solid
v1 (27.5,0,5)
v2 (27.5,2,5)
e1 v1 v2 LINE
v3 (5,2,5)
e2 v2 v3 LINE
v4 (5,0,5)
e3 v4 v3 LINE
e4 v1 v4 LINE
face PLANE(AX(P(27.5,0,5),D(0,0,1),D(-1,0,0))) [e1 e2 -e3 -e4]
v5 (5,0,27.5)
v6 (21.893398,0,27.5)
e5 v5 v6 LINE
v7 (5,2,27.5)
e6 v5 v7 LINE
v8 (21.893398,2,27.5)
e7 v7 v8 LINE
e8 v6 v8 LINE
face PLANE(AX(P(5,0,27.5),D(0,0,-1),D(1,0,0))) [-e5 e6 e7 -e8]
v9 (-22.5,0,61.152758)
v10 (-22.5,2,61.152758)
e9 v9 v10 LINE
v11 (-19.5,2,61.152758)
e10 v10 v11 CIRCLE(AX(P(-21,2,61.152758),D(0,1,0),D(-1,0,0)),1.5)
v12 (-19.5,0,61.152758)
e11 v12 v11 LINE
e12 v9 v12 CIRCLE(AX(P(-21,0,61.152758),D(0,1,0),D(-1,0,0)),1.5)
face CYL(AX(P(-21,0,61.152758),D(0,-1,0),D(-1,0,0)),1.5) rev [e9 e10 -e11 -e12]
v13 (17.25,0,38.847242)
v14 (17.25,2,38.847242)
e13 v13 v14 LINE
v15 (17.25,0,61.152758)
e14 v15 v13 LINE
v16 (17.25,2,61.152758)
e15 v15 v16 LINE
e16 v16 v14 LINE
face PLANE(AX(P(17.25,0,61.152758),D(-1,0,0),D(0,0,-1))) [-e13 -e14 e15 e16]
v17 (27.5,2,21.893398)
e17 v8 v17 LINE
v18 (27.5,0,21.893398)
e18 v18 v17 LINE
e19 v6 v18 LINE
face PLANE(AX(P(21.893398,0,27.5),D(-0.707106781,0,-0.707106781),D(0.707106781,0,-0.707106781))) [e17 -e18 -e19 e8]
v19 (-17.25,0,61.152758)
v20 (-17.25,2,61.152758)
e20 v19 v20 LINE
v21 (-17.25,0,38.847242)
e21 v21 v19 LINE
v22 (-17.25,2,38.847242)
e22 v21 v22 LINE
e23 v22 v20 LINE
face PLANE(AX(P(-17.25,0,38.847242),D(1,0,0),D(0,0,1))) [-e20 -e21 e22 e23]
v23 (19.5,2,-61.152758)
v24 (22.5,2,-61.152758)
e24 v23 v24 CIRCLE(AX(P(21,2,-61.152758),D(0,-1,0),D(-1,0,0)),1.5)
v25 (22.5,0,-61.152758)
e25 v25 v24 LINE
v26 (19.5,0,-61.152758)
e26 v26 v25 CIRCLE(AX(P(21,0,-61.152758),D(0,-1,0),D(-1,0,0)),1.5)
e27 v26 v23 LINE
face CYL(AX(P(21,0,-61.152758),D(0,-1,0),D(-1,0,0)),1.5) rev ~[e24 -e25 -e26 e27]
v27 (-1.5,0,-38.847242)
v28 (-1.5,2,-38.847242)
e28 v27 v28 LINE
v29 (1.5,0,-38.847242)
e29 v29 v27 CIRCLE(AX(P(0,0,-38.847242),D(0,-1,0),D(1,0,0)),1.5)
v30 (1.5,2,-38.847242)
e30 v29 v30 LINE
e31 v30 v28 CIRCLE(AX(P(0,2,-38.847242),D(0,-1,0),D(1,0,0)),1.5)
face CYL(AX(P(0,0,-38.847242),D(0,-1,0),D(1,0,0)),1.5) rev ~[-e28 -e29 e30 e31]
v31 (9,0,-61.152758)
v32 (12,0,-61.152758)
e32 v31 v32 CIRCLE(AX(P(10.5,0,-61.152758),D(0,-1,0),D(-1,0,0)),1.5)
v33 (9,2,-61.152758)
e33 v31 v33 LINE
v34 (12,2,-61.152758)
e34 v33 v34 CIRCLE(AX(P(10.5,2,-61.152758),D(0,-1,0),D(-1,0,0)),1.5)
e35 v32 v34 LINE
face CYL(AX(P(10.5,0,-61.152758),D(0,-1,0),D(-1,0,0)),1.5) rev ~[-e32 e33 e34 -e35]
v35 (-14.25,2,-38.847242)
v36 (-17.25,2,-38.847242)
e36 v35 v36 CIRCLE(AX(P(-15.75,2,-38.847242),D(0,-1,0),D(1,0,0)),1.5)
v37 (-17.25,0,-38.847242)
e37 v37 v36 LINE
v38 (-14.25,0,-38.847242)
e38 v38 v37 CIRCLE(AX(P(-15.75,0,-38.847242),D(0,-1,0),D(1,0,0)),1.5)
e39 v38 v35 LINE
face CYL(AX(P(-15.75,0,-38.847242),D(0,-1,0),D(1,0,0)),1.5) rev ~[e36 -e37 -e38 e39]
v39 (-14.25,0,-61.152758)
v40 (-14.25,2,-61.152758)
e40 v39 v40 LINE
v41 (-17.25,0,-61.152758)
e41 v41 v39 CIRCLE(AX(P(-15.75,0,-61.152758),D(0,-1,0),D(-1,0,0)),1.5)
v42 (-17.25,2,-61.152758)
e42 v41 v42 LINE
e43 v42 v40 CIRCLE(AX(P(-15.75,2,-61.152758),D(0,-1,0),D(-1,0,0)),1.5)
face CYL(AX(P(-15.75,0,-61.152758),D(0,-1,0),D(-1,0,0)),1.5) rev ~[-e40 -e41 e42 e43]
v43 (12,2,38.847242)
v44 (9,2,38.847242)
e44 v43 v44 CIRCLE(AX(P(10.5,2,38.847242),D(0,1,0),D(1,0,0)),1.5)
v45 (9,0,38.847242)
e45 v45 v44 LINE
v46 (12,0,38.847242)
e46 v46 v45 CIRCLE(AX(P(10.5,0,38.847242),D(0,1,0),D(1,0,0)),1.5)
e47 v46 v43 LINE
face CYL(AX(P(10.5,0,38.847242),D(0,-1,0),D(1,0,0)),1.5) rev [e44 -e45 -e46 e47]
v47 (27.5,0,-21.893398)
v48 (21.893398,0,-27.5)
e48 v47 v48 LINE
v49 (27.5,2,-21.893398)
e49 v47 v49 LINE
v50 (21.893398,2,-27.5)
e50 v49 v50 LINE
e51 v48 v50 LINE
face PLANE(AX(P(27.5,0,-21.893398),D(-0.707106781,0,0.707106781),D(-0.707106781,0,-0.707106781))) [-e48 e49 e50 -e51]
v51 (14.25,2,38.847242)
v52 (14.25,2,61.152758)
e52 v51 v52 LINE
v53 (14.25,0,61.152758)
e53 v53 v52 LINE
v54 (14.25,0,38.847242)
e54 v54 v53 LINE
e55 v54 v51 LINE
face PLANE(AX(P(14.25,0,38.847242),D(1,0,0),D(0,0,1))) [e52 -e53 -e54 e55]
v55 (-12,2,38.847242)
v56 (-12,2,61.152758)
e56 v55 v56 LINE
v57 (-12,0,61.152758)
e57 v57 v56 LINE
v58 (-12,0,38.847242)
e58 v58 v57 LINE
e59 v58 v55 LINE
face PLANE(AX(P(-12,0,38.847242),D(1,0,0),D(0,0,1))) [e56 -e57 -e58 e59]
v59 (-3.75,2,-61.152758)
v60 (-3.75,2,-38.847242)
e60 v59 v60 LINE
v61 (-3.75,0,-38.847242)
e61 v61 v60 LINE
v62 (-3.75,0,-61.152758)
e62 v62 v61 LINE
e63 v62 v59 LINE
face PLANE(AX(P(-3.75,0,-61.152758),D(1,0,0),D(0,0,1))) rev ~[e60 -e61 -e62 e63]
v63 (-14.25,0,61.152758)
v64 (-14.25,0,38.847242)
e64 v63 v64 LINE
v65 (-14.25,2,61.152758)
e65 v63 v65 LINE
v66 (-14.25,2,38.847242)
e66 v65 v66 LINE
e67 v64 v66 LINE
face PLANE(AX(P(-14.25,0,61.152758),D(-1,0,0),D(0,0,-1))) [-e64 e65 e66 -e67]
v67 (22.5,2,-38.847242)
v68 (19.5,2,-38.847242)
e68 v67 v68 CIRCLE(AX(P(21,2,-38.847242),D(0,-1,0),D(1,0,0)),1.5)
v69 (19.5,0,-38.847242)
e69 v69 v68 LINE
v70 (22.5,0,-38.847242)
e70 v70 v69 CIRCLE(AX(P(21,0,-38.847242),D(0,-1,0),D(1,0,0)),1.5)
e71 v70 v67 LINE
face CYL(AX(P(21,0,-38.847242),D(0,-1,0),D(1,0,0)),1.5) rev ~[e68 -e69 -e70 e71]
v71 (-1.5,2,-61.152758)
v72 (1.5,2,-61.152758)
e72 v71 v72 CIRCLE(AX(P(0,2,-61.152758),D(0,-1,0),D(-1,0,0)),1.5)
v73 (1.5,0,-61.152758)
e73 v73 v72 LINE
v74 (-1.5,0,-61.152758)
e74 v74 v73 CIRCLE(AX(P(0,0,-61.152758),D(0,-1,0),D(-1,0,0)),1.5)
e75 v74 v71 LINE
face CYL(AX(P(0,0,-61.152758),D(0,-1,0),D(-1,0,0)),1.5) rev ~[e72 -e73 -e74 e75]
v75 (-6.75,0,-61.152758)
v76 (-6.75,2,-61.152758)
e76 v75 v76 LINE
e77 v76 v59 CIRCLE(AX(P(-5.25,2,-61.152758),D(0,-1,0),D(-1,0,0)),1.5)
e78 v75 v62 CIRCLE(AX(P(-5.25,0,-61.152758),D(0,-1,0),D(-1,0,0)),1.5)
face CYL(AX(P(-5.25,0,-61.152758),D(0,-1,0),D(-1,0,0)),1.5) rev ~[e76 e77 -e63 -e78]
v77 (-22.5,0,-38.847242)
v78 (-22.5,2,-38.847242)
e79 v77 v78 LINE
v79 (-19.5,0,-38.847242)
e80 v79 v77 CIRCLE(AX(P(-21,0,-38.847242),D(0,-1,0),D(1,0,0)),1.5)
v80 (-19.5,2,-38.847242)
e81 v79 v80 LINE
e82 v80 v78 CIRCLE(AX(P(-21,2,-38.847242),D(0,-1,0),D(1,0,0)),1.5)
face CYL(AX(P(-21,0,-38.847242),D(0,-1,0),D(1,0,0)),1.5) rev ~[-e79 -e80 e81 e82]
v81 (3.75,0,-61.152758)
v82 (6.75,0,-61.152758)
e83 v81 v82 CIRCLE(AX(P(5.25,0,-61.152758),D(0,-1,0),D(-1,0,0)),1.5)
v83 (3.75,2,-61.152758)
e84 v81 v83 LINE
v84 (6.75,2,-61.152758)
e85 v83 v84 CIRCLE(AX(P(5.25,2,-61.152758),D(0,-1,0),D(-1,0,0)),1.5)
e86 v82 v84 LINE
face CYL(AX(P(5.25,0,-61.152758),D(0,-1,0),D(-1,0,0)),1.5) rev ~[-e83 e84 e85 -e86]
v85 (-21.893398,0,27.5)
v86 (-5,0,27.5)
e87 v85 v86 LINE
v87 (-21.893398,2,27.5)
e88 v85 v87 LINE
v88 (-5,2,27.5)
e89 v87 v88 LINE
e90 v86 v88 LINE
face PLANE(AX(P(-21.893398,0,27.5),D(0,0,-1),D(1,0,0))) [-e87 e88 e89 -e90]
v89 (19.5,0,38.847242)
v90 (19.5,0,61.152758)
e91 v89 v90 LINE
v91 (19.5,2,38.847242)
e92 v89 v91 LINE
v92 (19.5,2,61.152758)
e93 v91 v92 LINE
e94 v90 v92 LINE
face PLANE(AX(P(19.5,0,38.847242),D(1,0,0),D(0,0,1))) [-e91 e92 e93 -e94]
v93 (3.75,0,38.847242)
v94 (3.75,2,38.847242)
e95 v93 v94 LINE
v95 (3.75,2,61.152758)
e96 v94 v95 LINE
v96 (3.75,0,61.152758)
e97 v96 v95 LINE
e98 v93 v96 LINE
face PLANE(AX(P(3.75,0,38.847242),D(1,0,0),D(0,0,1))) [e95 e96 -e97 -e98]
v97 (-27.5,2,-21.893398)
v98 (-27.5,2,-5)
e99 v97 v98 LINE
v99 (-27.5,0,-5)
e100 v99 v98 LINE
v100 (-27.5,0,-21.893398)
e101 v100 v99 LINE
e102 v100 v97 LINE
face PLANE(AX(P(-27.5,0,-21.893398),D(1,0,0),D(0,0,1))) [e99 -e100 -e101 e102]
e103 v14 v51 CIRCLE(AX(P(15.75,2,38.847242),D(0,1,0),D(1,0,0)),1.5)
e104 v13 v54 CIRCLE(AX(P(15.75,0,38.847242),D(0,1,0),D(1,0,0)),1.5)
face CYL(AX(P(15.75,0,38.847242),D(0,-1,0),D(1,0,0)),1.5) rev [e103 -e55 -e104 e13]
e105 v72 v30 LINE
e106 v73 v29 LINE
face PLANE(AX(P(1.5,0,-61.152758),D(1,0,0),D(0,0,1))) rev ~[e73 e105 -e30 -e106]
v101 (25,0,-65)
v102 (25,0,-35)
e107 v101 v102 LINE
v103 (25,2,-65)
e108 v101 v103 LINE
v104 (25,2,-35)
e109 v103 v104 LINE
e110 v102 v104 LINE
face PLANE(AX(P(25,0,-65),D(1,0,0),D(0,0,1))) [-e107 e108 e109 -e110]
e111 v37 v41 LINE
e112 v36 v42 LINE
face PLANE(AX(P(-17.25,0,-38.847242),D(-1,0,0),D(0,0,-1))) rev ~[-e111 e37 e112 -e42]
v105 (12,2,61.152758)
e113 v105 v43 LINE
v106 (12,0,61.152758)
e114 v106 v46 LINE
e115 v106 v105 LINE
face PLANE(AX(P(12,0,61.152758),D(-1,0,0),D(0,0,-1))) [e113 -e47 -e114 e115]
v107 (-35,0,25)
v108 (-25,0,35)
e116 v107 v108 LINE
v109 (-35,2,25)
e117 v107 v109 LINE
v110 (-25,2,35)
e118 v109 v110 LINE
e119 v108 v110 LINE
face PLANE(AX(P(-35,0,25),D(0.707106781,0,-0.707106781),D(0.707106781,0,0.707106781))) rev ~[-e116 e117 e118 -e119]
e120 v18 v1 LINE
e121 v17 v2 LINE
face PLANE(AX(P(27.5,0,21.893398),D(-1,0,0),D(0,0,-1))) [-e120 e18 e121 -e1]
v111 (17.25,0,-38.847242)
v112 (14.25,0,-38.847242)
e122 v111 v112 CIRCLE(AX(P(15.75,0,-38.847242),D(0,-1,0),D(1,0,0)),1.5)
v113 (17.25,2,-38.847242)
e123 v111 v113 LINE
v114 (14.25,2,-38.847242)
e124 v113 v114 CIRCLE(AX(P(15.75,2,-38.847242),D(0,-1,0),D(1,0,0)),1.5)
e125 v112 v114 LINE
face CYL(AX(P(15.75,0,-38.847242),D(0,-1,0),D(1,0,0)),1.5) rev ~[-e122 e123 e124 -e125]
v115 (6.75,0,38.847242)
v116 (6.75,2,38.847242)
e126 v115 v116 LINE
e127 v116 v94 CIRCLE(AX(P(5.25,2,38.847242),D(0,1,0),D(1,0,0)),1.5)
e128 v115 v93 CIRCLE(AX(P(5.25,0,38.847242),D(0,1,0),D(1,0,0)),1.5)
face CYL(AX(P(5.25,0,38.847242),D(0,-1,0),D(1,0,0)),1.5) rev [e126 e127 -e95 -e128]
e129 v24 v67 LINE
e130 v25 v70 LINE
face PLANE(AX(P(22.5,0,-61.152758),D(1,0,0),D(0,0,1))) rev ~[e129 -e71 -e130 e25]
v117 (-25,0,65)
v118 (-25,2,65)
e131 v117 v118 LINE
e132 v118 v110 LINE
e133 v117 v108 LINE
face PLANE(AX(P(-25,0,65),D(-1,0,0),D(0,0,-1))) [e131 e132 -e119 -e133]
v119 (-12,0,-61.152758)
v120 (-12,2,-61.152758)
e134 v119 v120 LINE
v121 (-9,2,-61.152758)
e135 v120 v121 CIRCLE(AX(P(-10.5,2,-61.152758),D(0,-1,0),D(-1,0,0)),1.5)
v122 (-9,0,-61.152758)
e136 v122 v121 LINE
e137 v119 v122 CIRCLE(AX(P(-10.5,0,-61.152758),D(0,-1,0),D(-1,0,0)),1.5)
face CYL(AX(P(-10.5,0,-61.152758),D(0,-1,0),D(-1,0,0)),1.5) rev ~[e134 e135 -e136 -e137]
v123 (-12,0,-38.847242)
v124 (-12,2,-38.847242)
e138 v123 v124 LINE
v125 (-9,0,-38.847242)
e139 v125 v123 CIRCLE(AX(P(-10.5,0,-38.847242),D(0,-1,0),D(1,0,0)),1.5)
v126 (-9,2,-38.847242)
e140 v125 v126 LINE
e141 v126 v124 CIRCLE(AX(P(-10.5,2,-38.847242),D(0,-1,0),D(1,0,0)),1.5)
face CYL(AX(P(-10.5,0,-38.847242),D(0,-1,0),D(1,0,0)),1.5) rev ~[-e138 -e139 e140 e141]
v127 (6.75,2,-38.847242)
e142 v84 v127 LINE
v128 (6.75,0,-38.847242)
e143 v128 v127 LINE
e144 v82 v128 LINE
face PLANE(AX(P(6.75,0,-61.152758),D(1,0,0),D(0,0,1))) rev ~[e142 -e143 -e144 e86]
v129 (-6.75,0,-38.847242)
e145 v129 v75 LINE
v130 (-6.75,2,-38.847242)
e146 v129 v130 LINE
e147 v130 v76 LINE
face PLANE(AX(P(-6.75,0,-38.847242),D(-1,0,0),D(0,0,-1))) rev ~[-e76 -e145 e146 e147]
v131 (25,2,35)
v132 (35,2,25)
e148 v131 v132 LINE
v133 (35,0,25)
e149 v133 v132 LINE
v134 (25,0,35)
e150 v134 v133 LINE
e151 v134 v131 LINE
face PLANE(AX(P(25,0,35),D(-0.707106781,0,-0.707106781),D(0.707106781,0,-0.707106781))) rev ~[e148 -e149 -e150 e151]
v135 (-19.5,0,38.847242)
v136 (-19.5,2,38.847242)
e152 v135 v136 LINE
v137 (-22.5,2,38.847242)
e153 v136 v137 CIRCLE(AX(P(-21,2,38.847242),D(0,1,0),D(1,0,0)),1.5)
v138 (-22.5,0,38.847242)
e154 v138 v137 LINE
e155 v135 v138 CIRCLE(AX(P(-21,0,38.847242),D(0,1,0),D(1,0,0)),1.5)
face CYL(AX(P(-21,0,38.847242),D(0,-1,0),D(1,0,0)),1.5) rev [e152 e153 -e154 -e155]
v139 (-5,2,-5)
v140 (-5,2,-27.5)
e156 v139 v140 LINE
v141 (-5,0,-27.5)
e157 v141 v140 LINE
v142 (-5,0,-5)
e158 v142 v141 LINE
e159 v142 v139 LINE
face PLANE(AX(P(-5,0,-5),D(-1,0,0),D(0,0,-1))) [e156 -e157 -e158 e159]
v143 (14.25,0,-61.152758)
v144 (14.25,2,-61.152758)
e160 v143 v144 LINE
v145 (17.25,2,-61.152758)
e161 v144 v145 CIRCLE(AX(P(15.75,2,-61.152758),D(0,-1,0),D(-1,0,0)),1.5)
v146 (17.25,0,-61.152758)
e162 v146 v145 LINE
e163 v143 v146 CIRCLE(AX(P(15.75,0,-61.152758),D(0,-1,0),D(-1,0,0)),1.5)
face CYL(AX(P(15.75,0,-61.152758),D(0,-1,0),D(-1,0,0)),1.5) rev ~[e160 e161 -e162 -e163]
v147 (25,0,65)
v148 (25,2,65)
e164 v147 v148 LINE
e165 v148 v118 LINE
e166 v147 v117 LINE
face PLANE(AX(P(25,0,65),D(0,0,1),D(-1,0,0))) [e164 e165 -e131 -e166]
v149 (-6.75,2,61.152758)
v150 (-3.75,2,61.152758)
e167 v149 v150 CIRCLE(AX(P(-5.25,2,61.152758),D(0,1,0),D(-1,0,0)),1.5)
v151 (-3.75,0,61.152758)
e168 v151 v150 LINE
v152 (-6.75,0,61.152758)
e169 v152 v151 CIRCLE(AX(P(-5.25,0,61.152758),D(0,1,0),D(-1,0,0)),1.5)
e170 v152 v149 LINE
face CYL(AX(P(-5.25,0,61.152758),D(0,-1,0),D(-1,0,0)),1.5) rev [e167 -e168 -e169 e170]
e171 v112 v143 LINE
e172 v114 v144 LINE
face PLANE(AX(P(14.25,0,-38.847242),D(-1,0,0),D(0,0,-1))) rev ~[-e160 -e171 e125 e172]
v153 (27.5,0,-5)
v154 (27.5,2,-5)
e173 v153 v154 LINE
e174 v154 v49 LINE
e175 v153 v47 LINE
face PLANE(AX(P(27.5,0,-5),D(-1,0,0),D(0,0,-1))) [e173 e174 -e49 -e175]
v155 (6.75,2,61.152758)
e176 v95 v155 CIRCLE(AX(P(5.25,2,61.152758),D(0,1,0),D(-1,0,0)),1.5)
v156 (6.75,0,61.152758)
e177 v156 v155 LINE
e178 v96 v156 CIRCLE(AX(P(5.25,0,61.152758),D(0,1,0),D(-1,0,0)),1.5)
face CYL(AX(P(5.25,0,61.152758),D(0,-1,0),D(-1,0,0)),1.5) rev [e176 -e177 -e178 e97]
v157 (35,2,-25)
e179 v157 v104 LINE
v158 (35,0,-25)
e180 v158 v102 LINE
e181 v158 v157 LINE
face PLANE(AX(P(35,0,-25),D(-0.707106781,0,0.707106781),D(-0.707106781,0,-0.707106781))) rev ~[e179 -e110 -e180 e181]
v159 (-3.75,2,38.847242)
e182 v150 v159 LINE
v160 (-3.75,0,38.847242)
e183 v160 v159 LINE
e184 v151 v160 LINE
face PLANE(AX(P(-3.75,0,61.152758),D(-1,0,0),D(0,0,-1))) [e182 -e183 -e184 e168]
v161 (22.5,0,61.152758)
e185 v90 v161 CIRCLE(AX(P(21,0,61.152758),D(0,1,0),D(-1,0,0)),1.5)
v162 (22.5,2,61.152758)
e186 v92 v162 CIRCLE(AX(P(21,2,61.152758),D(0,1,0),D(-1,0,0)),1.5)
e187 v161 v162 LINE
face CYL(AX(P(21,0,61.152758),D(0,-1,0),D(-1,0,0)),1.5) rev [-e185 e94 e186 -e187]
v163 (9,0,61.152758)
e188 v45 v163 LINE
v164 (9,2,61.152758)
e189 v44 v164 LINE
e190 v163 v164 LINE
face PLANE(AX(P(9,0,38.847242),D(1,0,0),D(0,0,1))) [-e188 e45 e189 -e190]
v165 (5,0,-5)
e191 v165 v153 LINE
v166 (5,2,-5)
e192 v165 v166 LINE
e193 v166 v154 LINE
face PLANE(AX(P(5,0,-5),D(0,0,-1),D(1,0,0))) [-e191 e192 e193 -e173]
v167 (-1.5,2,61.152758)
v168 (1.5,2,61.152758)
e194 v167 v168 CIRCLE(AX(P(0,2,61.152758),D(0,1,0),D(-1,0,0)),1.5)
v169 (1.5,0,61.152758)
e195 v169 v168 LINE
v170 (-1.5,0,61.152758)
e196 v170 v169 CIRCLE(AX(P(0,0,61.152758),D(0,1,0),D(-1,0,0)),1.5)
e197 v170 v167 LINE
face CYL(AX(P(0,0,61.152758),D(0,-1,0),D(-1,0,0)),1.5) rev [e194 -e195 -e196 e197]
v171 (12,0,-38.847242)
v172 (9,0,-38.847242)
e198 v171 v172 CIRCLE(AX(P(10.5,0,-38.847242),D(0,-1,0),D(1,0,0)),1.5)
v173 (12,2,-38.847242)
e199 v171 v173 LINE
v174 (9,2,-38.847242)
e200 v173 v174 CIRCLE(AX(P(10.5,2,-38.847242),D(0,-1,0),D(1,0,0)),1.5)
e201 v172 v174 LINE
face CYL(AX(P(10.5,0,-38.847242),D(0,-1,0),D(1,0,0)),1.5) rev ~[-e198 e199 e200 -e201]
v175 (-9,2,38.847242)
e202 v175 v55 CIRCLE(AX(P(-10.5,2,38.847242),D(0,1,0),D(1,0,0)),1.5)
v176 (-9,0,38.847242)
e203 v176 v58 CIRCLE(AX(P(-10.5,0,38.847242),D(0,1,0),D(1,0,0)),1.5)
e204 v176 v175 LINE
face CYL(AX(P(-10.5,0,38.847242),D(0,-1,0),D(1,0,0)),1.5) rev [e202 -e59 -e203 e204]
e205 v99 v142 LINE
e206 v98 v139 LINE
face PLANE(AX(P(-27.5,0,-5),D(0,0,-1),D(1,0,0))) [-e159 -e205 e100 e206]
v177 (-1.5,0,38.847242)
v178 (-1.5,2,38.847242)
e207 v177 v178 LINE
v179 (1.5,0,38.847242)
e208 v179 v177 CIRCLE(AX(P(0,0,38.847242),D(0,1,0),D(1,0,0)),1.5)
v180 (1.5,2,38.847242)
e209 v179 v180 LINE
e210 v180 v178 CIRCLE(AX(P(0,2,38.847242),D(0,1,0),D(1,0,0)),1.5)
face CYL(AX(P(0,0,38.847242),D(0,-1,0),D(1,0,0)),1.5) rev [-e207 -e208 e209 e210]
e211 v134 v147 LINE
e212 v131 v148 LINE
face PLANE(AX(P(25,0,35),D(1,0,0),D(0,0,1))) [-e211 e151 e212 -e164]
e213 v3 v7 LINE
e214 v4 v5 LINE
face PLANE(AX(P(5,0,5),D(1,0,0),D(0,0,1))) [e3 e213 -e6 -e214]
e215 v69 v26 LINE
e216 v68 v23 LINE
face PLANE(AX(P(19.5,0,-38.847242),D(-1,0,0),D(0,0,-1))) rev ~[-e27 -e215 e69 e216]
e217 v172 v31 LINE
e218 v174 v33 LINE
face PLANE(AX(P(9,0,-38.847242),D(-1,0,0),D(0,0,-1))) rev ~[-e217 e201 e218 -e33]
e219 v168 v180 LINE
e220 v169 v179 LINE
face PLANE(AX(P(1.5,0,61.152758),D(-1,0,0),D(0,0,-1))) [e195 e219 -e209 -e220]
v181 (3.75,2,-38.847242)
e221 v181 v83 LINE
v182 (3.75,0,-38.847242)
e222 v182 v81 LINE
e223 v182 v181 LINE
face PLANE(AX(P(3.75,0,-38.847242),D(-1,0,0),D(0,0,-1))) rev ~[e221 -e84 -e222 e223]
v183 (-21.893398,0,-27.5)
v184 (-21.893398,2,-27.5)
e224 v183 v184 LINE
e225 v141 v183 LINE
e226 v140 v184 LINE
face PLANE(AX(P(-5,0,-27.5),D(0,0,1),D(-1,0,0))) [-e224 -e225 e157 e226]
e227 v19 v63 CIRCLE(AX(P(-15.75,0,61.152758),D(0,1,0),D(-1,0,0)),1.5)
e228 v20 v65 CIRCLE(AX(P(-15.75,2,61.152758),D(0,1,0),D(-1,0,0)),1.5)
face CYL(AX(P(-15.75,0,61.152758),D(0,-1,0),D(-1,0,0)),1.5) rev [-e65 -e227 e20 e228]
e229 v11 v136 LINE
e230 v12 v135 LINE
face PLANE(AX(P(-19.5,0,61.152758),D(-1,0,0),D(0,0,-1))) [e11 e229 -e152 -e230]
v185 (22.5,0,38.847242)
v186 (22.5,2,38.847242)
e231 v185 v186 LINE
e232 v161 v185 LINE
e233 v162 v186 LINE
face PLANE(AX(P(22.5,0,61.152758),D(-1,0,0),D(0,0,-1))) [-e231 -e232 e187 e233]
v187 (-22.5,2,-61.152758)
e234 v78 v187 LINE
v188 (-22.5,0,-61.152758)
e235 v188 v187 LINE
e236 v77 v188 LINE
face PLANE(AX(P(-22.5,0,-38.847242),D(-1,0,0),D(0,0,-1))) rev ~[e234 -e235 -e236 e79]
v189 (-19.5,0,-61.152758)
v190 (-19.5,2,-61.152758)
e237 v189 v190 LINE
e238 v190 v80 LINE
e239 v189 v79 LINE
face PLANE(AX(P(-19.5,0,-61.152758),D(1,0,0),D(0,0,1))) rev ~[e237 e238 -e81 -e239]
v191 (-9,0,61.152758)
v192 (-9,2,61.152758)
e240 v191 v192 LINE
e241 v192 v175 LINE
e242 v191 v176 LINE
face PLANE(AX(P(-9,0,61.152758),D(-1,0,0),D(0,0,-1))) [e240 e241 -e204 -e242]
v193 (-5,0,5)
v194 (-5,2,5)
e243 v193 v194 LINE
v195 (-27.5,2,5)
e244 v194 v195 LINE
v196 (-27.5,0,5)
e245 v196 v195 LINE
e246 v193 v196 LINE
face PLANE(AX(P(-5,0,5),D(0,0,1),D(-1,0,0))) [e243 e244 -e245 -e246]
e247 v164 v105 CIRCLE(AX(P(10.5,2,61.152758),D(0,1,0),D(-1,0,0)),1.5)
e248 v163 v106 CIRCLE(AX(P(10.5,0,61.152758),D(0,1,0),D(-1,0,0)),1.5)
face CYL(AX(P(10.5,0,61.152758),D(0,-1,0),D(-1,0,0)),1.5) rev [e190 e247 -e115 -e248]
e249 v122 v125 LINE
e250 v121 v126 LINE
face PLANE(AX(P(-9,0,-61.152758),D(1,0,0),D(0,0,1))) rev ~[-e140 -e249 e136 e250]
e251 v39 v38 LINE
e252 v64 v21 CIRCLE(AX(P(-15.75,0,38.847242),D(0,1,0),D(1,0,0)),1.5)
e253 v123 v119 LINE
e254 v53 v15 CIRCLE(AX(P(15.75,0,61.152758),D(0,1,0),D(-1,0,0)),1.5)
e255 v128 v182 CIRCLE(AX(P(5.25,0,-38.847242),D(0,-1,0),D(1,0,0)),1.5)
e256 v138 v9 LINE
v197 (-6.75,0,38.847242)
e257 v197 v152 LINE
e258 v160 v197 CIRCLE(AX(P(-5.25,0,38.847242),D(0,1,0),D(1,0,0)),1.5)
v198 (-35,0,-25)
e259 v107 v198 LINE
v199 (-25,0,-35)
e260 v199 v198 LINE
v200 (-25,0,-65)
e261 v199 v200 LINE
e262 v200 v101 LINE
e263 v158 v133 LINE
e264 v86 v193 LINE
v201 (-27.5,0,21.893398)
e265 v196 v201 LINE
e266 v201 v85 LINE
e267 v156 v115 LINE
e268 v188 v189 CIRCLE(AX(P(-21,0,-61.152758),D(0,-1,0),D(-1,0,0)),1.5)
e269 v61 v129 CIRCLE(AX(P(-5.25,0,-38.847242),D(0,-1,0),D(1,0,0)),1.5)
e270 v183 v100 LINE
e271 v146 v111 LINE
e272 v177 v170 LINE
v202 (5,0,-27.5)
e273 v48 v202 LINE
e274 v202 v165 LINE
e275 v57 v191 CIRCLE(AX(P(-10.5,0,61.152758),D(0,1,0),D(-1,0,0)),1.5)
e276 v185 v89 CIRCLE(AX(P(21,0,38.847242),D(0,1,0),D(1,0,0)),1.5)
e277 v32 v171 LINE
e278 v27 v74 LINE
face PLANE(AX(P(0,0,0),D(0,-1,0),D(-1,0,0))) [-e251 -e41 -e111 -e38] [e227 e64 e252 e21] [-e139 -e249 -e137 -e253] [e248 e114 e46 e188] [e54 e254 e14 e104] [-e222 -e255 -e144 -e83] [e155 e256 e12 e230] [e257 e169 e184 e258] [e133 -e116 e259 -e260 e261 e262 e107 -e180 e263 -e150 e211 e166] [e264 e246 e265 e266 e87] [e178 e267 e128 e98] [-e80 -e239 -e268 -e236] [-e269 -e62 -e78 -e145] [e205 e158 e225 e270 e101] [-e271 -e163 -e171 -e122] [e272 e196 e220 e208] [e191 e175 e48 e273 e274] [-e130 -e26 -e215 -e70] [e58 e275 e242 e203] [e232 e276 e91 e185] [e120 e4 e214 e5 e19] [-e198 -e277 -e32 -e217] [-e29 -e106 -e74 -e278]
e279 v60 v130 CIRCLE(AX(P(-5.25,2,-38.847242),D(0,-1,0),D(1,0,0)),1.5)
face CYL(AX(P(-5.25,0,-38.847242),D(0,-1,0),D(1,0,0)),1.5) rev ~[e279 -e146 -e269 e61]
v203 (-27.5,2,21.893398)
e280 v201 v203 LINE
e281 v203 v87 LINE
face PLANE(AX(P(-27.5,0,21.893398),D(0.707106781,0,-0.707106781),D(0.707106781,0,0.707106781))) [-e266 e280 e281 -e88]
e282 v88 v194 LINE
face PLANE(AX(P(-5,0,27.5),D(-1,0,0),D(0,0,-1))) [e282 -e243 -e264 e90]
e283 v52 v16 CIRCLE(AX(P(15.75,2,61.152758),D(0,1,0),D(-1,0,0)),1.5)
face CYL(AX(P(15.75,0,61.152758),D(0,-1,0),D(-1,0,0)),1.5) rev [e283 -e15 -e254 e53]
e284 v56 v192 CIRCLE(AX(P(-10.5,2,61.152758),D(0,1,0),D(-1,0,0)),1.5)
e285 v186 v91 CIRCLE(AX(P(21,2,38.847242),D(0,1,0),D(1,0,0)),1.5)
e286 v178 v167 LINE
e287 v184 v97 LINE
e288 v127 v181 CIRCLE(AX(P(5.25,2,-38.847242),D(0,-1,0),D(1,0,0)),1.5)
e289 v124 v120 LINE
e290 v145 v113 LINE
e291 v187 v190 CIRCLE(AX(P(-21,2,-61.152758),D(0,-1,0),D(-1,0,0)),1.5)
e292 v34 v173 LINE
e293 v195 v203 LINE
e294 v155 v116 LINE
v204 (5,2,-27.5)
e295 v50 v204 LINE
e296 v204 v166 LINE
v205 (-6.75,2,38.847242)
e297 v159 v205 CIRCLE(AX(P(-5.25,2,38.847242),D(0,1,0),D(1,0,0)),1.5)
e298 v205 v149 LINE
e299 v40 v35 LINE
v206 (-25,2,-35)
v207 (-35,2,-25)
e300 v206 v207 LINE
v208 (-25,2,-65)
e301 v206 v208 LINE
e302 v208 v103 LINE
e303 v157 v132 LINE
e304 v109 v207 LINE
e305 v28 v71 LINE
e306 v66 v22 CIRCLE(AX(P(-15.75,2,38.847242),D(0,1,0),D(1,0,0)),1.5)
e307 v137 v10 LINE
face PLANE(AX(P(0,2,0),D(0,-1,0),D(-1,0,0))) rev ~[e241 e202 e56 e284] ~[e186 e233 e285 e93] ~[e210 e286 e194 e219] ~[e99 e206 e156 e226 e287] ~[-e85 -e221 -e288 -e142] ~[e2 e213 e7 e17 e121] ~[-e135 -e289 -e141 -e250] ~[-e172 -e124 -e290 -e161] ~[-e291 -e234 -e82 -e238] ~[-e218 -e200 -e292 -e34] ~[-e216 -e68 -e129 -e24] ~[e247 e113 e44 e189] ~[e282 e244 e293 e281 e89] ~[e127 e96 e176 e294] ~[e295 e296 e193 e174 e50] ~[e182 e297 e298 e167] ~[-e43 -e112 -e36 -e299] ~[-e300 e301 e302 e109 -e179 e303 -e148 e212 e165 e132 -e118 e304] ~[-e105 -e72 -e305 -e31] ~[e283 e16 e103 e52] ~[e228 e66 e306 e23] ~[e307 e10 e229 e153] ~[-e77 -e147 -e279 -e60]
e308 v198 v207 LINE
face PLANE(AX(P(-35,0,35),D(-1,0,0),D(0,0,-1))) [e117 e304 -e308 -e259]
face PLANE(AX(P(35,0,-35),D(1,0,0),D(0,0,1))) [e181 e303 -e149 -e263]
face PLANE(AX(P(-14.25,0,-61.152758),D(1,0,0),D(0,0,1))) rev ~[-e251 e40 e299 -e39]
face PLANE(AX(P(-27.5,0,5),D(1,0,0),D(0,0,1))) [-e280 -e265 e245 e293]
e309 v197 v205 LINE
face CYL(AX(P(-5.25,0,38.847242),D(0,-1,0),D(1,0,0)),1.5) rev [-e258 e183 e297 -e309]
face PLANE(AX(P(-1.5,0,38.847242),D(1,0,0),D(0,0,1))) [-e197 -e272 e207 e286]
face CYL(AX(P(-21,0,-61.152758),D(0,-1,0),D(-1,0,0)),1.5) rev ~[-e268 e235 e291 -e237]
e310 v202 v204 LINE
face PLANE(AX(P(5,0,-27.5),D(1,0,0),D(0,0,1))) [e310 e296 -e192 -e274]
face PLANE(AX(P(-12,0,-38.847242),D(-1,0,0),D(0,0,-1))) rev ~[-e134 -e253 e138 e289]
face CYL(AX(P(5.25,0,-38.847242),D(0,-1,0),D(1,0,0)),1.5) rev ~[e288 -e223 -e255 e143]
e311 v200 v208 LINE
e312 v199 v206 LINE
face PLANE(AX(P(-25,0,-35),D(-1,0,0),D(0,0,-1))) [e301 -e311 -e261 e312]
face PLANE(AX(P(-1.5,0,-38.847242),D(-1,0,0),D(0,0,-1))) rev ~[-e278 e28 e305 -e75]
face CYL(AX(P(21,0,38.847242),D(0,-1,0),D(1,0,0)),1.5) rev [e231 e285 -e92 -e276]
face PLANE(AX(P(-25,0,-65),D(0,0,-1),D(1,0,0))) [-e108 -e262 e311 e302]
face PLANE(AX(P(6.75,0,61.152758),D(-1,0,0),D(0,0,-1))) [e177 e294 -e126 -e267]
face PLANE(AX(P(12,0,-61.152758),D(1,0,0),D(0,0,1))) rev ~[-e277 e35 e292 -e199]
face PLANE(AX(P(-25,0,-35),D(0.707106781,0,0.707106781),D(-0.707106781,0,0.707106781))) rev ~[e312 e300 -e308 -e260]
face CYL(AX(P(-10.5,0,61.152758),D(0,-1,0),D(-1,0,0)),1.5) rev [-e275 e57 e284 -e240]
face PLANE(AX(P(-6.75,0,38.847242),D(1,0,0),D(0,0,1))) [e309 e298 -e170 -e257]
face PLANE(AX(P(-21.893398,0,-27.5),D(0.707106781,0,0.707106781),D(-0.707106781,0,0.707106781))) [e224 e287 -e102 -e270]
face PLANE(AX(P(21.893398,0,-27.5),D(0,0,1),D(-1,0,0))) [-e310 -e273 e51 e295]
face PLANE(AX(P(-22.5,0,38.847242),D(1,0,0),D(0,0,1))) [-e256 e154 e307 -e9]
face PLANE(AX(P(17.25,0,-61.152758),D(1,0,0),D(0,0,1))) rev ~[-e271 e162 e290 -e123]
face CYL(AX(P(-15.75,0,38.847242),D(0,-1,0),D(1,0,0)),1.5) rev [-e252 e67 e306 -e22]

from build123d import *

# Parameters (mm, degrees)
BOSS_EXTRUDE1_DEPTH = 2
CUT_EXTRUDE1_DEPTH  = 2
CIRPATTERN1_COUNT   = 4


with BuildPart() as part:
    # Sketch2 → Boss-Extrude1 (new body)
    with BuildSketch(Plane(origin=(0, 0, 0), x_dir=(1, 0, 0), z_dir=(0, 1, 0))):
        Polygon((-35, 35), (-25, 35), (-25, 65), (25, 65), (25, 35), (35, 35), (35, -35), (25, -35), (25, -65), (-25, -65), (-25, -35), (-35, -35), align=None)
        with BuildLine():
            Line((-1.5, 38.847241674), (-1.5, 61.152758326))
            ThreePointArc((-1.5, 61.152758326), (0, 62.652758326), (1.5, 61.152758326))
            Line((1.5, 61.152758326), (1.5, 38.847241674))
            ThreePointArc((1.5, 38.847241674), (0, 37.347241674), (-1.5, 38.847241674))
        make_face(mode=Mode.SUBTRACT)
        with BuildLine():
            Line((3.75, 38.847241674), (3.75, 61.152758326))
            ThreePointArc((3.75, 61.152758326), (5.25, 62.652758326), (6.75, 61.152758326))
            Line((6.75, 61.152758326), (6.75, 38.847241674))
            ThreePointArc((6.75, 38.847241674), (5.25, 37.347241674), (3.75, 38.847241674))
        make_face(mode=Mode.SUBTRACT)
        with BuildLine():
            Line((9, 38.847241674), (9, 61.152758326))
            ThreePointArc((9, 61.152758326), (10.5, 62.652758326), (12, 61.152758326))
            Line((12, 61.152758326), (12, 38.847241674))
            ThreePointArc((12, 38.847241674), (10.5, 37.347241674), (9, 38.847241674))
        make_face(mode=Mode.SUBTRACT)
        with BuildLine():
            Line((14.25, 38.847241674), (14.25, 61.152758326))
            ThreePointArc((14.25, 61.152758326), (15.75, 62.652758326), (17.25, 61.152758326))
            Line((17.25, 61.152758326), (17.25, 38.847241674))
            ThreePointArc((17.25, 38.847241674), (15.75, 37.347241674), (14.25, 38.847241674))
        make_face(mode=Mode.SUBTRACT)
        with BuildLine():
            Line((19.5, 38.847241674), (19.5, 61.152758326))
            ThreePointArc((19.5, 61.152758326), (21, 62.652758326), (22.5, 61.152758326))
            Line((22.5, 61.152758326), (22.5, 38.847241674))
            ThreePointArc((22.5, 38.847241674), (21, 37.347241674), (19.5, 38.847241674))
        make_face(mode=Mode.SUBTRACT)
        with BuildLine():
            Line((-6.75, 38.847241674), (-6.75, 61.152758326))
            ThreePointArc((-6.75, 61.152758326), (-5.25, 62.652758326), (-3.75, 61.152758326))
            Line((-3.75, 61.152758326), (-3.75, 38.847241674))
            ThreePointArc((-3.75, 38.847241674), (-5.25, 37.347241674), (-6.75, 38.847241674))
        make_face(mode=Mode.SUBTRACT)
        with BuildLine():
            Line((-12, 38.847241674), (-12, 61.152758326))
            ThreePointArc((-12, 61.152758326), (-10.5, 62.652758326), (-9, 61.152758326))
            Line((-9, 61.152758326), (-9, 38.847241674))
            ThreePointArc((-9, 38.847241674), (-10.5, 37.347241674), (-12, 38.847241674))
        make_face(mode=Mode.SUBTRACT)
        with BuildLine():
            Line((-17.25, 38.847241674), (-17.25, 61.152758326))
            ThreePointArc((-17.25, 61.152758326), (-15.75, 62.652758326), (-14.25, 61.152758326))
            Line((-14.25, 61.152758326), (-14.25, 38.847241674))
            ThreePointArc((-14.25, 38.847241674), (-15.75, 37.347241674), (-17.25, 38.847241674))
        make_face(mode=Mode.SUBTRACT)
        with BuildLine():
            Line((-22.5, 38.847241674), (-22.5, 61.152758326))
            ThreePointArc((-22.5, 61.152758326), (-21, 62.652758326), (-19.5, 61.152758326))
            Line((-19.5, 61.152758326), (-19.5, 38.847241674))
            ThreePointArc((-19.5, 38.847241674), (-21, 37.347241674), (-22.5, 38.847241674))
        make_face(mode=Mode.SUBTRACT)
        with BuildLine():
            Line((3.75, -38.847241674), (3.75, -61.152758326))
            ThreePointArc((3.75, -61.152758326), (5.25, -62.652758326), (6.75, -61.152758326))
            Line((6.75, -61.152758326), (6.75, -38.847241674))
            ThreePointArc((6.75, -38.847241674), (5.25, -37.347241674), (3.75, -38.847241674))
        make_face(mode=Mode.SUBTRACT)
        with BuildLine():
            Line((-1.5, -38.847241674), (-1.5, -61.152758326))
            ThreePointArc((-1.5, -61.152758326), (0, -62.652758326), (1.5, -61.152758326))
            Line((1.5, -61.152758326), (1.5, -38.847241674))
            ThreePointArc((1.5, -38.847241674), (0, -37.347241674), (-1.5, -38.847241674))
        make_face(mode=Mode.SUBTRACT)
        with BuildLine():
            Line((9, -38.847241674), (9, -61.152758326))
            ThreePointArc((9, -61.152758326), (10.5, -62.652758326), (12, -61.152758326))
            Line((12, -61.152758326), (12, -38.847241674))
            ThreePointArc((12, -38.847241674), (10.5, -37.347241674), (9, -38.847241674))
        make_face(mode=Mode.SUBTRACT)
        with BuildLine():
            Line((14.25, -38.847241674), (14.25, -61.152758326))
            ThreePointArc((14.25, -61.152758326), (15.75, -62.652758326), (17.25, -61.152758326))
            Line((17.25, -61.152758326), (17.25, -38.847241674))
            ThreePointArc((17.25, -38.847241674), (15.75, -37.347241674), (14.25, -38.847241674))
        make_face(mode=Mode.SUBTRACT)
        with BuildLine():
            Line((19.5, -38.847241674), (19.5, -61.152758326))
            ThreePointArc((19.5, -61.152758326), (21, -62.652758326), (22.5, -61.152758326))
            Line((22.5, -61.152758326), (22.5, -38.847241674))
            ThreePointArc((22.5, -38.847241674), (21, -37.347241674), (19.5, -38.847241674))
        make_face(mode=Mode.SUBTRACT)
        with BuildLine():
            Line((-6.75, -38.847241674), (-6.75, -61.152758326))
            ThreePointArc((-6.75, -61.152758326), (-5.25, -62.652758326), (-3.75, -61.152758326))
            Line((-3.75, -61.152758326), (-3.75, -38.847241674))
            ThreePointArc((-3.75, -38.847241674), (-5.25, -37.347241674), (-6.75, -38.847241674))
        make_face(mode=Mode.SUBTRACT)
        with BuildLine():
            Line((-12, -38.847241674), (-12, -61.152758326))
            ThreePointArc((-12, -61.152758326), (-10.5, -62.652758326), (-9, -61.152758326))
            Line((-9, -61.152758326), (-9, -38.847241674))
            ThreePointArc((-9, -38.847241674), (-10.5, -37.347241674), (-12, -38.847241674))
        make_face(mode=Mode.SUBTRACT)
        with BuildLine():
            Line((-17.25, -38.847241674), (-17.25, -61.152758326))
            ThreePointArc((-17.25, -61.152758326), (-15.75, -62.652758326), (-14.25, -61.152758326))
            Line((-14.25, -61.152758326), (-14.25, -38.847241674))
            ThreePointArc((-14.25, -38.847241674), (-15.75, -37.347241674), (-17.25, -38.847241674))
        make_face(mode=Mode.SUBTRACT)
        with BuildLine():
            Line((-22.5, -38.847241674), (-22.5, -61.152758326))
            ThreePointArc((-22.5, -61.152758326), (-21, -62.652758326), (-19.5, -61.152758326))
            Line((-19.5, -61.152758326), (-19.5, -38.847241674))
            ThreePointArc((-19.5, -38.847241674), (-21, -37.347241674), (-22.5, -38.847241674))
        make_face(mode=Mode.SUBTRACT)
    extrude(amount=BOSS_EXTRUDE1_DEPTH)

    # Sketch4 → Cut-Extrude1 (cut)
    with BuildSketch(Plane.XZ):
        Polygon((25, 35), (35, 25), (35, 35), align=None)
        Polygon((21.893398282, 27.5), (27.5, 21.893398282), (27.5, 5), (5, 5), (5, 27.5), align=None)
    cut_extrude1 = extrude(amount=-CUT_EXTRUDE1_DEPTH, mode=Mode.SUBTRACT)

    # CirPattern1: Cut-Extrude1 ×4 about axis
    cirpattern1_axis = Axis((0, 0, 0), (0, 1, 0))
    for i in range(1, CIRPATTERN1_COUNT):
        add(cut_extrude1.rotate(cirpattern1_axis, i * 360 / CIRPATTERN1_COUNT), mode=Mode.SUBTRACT)


solid = part.part
